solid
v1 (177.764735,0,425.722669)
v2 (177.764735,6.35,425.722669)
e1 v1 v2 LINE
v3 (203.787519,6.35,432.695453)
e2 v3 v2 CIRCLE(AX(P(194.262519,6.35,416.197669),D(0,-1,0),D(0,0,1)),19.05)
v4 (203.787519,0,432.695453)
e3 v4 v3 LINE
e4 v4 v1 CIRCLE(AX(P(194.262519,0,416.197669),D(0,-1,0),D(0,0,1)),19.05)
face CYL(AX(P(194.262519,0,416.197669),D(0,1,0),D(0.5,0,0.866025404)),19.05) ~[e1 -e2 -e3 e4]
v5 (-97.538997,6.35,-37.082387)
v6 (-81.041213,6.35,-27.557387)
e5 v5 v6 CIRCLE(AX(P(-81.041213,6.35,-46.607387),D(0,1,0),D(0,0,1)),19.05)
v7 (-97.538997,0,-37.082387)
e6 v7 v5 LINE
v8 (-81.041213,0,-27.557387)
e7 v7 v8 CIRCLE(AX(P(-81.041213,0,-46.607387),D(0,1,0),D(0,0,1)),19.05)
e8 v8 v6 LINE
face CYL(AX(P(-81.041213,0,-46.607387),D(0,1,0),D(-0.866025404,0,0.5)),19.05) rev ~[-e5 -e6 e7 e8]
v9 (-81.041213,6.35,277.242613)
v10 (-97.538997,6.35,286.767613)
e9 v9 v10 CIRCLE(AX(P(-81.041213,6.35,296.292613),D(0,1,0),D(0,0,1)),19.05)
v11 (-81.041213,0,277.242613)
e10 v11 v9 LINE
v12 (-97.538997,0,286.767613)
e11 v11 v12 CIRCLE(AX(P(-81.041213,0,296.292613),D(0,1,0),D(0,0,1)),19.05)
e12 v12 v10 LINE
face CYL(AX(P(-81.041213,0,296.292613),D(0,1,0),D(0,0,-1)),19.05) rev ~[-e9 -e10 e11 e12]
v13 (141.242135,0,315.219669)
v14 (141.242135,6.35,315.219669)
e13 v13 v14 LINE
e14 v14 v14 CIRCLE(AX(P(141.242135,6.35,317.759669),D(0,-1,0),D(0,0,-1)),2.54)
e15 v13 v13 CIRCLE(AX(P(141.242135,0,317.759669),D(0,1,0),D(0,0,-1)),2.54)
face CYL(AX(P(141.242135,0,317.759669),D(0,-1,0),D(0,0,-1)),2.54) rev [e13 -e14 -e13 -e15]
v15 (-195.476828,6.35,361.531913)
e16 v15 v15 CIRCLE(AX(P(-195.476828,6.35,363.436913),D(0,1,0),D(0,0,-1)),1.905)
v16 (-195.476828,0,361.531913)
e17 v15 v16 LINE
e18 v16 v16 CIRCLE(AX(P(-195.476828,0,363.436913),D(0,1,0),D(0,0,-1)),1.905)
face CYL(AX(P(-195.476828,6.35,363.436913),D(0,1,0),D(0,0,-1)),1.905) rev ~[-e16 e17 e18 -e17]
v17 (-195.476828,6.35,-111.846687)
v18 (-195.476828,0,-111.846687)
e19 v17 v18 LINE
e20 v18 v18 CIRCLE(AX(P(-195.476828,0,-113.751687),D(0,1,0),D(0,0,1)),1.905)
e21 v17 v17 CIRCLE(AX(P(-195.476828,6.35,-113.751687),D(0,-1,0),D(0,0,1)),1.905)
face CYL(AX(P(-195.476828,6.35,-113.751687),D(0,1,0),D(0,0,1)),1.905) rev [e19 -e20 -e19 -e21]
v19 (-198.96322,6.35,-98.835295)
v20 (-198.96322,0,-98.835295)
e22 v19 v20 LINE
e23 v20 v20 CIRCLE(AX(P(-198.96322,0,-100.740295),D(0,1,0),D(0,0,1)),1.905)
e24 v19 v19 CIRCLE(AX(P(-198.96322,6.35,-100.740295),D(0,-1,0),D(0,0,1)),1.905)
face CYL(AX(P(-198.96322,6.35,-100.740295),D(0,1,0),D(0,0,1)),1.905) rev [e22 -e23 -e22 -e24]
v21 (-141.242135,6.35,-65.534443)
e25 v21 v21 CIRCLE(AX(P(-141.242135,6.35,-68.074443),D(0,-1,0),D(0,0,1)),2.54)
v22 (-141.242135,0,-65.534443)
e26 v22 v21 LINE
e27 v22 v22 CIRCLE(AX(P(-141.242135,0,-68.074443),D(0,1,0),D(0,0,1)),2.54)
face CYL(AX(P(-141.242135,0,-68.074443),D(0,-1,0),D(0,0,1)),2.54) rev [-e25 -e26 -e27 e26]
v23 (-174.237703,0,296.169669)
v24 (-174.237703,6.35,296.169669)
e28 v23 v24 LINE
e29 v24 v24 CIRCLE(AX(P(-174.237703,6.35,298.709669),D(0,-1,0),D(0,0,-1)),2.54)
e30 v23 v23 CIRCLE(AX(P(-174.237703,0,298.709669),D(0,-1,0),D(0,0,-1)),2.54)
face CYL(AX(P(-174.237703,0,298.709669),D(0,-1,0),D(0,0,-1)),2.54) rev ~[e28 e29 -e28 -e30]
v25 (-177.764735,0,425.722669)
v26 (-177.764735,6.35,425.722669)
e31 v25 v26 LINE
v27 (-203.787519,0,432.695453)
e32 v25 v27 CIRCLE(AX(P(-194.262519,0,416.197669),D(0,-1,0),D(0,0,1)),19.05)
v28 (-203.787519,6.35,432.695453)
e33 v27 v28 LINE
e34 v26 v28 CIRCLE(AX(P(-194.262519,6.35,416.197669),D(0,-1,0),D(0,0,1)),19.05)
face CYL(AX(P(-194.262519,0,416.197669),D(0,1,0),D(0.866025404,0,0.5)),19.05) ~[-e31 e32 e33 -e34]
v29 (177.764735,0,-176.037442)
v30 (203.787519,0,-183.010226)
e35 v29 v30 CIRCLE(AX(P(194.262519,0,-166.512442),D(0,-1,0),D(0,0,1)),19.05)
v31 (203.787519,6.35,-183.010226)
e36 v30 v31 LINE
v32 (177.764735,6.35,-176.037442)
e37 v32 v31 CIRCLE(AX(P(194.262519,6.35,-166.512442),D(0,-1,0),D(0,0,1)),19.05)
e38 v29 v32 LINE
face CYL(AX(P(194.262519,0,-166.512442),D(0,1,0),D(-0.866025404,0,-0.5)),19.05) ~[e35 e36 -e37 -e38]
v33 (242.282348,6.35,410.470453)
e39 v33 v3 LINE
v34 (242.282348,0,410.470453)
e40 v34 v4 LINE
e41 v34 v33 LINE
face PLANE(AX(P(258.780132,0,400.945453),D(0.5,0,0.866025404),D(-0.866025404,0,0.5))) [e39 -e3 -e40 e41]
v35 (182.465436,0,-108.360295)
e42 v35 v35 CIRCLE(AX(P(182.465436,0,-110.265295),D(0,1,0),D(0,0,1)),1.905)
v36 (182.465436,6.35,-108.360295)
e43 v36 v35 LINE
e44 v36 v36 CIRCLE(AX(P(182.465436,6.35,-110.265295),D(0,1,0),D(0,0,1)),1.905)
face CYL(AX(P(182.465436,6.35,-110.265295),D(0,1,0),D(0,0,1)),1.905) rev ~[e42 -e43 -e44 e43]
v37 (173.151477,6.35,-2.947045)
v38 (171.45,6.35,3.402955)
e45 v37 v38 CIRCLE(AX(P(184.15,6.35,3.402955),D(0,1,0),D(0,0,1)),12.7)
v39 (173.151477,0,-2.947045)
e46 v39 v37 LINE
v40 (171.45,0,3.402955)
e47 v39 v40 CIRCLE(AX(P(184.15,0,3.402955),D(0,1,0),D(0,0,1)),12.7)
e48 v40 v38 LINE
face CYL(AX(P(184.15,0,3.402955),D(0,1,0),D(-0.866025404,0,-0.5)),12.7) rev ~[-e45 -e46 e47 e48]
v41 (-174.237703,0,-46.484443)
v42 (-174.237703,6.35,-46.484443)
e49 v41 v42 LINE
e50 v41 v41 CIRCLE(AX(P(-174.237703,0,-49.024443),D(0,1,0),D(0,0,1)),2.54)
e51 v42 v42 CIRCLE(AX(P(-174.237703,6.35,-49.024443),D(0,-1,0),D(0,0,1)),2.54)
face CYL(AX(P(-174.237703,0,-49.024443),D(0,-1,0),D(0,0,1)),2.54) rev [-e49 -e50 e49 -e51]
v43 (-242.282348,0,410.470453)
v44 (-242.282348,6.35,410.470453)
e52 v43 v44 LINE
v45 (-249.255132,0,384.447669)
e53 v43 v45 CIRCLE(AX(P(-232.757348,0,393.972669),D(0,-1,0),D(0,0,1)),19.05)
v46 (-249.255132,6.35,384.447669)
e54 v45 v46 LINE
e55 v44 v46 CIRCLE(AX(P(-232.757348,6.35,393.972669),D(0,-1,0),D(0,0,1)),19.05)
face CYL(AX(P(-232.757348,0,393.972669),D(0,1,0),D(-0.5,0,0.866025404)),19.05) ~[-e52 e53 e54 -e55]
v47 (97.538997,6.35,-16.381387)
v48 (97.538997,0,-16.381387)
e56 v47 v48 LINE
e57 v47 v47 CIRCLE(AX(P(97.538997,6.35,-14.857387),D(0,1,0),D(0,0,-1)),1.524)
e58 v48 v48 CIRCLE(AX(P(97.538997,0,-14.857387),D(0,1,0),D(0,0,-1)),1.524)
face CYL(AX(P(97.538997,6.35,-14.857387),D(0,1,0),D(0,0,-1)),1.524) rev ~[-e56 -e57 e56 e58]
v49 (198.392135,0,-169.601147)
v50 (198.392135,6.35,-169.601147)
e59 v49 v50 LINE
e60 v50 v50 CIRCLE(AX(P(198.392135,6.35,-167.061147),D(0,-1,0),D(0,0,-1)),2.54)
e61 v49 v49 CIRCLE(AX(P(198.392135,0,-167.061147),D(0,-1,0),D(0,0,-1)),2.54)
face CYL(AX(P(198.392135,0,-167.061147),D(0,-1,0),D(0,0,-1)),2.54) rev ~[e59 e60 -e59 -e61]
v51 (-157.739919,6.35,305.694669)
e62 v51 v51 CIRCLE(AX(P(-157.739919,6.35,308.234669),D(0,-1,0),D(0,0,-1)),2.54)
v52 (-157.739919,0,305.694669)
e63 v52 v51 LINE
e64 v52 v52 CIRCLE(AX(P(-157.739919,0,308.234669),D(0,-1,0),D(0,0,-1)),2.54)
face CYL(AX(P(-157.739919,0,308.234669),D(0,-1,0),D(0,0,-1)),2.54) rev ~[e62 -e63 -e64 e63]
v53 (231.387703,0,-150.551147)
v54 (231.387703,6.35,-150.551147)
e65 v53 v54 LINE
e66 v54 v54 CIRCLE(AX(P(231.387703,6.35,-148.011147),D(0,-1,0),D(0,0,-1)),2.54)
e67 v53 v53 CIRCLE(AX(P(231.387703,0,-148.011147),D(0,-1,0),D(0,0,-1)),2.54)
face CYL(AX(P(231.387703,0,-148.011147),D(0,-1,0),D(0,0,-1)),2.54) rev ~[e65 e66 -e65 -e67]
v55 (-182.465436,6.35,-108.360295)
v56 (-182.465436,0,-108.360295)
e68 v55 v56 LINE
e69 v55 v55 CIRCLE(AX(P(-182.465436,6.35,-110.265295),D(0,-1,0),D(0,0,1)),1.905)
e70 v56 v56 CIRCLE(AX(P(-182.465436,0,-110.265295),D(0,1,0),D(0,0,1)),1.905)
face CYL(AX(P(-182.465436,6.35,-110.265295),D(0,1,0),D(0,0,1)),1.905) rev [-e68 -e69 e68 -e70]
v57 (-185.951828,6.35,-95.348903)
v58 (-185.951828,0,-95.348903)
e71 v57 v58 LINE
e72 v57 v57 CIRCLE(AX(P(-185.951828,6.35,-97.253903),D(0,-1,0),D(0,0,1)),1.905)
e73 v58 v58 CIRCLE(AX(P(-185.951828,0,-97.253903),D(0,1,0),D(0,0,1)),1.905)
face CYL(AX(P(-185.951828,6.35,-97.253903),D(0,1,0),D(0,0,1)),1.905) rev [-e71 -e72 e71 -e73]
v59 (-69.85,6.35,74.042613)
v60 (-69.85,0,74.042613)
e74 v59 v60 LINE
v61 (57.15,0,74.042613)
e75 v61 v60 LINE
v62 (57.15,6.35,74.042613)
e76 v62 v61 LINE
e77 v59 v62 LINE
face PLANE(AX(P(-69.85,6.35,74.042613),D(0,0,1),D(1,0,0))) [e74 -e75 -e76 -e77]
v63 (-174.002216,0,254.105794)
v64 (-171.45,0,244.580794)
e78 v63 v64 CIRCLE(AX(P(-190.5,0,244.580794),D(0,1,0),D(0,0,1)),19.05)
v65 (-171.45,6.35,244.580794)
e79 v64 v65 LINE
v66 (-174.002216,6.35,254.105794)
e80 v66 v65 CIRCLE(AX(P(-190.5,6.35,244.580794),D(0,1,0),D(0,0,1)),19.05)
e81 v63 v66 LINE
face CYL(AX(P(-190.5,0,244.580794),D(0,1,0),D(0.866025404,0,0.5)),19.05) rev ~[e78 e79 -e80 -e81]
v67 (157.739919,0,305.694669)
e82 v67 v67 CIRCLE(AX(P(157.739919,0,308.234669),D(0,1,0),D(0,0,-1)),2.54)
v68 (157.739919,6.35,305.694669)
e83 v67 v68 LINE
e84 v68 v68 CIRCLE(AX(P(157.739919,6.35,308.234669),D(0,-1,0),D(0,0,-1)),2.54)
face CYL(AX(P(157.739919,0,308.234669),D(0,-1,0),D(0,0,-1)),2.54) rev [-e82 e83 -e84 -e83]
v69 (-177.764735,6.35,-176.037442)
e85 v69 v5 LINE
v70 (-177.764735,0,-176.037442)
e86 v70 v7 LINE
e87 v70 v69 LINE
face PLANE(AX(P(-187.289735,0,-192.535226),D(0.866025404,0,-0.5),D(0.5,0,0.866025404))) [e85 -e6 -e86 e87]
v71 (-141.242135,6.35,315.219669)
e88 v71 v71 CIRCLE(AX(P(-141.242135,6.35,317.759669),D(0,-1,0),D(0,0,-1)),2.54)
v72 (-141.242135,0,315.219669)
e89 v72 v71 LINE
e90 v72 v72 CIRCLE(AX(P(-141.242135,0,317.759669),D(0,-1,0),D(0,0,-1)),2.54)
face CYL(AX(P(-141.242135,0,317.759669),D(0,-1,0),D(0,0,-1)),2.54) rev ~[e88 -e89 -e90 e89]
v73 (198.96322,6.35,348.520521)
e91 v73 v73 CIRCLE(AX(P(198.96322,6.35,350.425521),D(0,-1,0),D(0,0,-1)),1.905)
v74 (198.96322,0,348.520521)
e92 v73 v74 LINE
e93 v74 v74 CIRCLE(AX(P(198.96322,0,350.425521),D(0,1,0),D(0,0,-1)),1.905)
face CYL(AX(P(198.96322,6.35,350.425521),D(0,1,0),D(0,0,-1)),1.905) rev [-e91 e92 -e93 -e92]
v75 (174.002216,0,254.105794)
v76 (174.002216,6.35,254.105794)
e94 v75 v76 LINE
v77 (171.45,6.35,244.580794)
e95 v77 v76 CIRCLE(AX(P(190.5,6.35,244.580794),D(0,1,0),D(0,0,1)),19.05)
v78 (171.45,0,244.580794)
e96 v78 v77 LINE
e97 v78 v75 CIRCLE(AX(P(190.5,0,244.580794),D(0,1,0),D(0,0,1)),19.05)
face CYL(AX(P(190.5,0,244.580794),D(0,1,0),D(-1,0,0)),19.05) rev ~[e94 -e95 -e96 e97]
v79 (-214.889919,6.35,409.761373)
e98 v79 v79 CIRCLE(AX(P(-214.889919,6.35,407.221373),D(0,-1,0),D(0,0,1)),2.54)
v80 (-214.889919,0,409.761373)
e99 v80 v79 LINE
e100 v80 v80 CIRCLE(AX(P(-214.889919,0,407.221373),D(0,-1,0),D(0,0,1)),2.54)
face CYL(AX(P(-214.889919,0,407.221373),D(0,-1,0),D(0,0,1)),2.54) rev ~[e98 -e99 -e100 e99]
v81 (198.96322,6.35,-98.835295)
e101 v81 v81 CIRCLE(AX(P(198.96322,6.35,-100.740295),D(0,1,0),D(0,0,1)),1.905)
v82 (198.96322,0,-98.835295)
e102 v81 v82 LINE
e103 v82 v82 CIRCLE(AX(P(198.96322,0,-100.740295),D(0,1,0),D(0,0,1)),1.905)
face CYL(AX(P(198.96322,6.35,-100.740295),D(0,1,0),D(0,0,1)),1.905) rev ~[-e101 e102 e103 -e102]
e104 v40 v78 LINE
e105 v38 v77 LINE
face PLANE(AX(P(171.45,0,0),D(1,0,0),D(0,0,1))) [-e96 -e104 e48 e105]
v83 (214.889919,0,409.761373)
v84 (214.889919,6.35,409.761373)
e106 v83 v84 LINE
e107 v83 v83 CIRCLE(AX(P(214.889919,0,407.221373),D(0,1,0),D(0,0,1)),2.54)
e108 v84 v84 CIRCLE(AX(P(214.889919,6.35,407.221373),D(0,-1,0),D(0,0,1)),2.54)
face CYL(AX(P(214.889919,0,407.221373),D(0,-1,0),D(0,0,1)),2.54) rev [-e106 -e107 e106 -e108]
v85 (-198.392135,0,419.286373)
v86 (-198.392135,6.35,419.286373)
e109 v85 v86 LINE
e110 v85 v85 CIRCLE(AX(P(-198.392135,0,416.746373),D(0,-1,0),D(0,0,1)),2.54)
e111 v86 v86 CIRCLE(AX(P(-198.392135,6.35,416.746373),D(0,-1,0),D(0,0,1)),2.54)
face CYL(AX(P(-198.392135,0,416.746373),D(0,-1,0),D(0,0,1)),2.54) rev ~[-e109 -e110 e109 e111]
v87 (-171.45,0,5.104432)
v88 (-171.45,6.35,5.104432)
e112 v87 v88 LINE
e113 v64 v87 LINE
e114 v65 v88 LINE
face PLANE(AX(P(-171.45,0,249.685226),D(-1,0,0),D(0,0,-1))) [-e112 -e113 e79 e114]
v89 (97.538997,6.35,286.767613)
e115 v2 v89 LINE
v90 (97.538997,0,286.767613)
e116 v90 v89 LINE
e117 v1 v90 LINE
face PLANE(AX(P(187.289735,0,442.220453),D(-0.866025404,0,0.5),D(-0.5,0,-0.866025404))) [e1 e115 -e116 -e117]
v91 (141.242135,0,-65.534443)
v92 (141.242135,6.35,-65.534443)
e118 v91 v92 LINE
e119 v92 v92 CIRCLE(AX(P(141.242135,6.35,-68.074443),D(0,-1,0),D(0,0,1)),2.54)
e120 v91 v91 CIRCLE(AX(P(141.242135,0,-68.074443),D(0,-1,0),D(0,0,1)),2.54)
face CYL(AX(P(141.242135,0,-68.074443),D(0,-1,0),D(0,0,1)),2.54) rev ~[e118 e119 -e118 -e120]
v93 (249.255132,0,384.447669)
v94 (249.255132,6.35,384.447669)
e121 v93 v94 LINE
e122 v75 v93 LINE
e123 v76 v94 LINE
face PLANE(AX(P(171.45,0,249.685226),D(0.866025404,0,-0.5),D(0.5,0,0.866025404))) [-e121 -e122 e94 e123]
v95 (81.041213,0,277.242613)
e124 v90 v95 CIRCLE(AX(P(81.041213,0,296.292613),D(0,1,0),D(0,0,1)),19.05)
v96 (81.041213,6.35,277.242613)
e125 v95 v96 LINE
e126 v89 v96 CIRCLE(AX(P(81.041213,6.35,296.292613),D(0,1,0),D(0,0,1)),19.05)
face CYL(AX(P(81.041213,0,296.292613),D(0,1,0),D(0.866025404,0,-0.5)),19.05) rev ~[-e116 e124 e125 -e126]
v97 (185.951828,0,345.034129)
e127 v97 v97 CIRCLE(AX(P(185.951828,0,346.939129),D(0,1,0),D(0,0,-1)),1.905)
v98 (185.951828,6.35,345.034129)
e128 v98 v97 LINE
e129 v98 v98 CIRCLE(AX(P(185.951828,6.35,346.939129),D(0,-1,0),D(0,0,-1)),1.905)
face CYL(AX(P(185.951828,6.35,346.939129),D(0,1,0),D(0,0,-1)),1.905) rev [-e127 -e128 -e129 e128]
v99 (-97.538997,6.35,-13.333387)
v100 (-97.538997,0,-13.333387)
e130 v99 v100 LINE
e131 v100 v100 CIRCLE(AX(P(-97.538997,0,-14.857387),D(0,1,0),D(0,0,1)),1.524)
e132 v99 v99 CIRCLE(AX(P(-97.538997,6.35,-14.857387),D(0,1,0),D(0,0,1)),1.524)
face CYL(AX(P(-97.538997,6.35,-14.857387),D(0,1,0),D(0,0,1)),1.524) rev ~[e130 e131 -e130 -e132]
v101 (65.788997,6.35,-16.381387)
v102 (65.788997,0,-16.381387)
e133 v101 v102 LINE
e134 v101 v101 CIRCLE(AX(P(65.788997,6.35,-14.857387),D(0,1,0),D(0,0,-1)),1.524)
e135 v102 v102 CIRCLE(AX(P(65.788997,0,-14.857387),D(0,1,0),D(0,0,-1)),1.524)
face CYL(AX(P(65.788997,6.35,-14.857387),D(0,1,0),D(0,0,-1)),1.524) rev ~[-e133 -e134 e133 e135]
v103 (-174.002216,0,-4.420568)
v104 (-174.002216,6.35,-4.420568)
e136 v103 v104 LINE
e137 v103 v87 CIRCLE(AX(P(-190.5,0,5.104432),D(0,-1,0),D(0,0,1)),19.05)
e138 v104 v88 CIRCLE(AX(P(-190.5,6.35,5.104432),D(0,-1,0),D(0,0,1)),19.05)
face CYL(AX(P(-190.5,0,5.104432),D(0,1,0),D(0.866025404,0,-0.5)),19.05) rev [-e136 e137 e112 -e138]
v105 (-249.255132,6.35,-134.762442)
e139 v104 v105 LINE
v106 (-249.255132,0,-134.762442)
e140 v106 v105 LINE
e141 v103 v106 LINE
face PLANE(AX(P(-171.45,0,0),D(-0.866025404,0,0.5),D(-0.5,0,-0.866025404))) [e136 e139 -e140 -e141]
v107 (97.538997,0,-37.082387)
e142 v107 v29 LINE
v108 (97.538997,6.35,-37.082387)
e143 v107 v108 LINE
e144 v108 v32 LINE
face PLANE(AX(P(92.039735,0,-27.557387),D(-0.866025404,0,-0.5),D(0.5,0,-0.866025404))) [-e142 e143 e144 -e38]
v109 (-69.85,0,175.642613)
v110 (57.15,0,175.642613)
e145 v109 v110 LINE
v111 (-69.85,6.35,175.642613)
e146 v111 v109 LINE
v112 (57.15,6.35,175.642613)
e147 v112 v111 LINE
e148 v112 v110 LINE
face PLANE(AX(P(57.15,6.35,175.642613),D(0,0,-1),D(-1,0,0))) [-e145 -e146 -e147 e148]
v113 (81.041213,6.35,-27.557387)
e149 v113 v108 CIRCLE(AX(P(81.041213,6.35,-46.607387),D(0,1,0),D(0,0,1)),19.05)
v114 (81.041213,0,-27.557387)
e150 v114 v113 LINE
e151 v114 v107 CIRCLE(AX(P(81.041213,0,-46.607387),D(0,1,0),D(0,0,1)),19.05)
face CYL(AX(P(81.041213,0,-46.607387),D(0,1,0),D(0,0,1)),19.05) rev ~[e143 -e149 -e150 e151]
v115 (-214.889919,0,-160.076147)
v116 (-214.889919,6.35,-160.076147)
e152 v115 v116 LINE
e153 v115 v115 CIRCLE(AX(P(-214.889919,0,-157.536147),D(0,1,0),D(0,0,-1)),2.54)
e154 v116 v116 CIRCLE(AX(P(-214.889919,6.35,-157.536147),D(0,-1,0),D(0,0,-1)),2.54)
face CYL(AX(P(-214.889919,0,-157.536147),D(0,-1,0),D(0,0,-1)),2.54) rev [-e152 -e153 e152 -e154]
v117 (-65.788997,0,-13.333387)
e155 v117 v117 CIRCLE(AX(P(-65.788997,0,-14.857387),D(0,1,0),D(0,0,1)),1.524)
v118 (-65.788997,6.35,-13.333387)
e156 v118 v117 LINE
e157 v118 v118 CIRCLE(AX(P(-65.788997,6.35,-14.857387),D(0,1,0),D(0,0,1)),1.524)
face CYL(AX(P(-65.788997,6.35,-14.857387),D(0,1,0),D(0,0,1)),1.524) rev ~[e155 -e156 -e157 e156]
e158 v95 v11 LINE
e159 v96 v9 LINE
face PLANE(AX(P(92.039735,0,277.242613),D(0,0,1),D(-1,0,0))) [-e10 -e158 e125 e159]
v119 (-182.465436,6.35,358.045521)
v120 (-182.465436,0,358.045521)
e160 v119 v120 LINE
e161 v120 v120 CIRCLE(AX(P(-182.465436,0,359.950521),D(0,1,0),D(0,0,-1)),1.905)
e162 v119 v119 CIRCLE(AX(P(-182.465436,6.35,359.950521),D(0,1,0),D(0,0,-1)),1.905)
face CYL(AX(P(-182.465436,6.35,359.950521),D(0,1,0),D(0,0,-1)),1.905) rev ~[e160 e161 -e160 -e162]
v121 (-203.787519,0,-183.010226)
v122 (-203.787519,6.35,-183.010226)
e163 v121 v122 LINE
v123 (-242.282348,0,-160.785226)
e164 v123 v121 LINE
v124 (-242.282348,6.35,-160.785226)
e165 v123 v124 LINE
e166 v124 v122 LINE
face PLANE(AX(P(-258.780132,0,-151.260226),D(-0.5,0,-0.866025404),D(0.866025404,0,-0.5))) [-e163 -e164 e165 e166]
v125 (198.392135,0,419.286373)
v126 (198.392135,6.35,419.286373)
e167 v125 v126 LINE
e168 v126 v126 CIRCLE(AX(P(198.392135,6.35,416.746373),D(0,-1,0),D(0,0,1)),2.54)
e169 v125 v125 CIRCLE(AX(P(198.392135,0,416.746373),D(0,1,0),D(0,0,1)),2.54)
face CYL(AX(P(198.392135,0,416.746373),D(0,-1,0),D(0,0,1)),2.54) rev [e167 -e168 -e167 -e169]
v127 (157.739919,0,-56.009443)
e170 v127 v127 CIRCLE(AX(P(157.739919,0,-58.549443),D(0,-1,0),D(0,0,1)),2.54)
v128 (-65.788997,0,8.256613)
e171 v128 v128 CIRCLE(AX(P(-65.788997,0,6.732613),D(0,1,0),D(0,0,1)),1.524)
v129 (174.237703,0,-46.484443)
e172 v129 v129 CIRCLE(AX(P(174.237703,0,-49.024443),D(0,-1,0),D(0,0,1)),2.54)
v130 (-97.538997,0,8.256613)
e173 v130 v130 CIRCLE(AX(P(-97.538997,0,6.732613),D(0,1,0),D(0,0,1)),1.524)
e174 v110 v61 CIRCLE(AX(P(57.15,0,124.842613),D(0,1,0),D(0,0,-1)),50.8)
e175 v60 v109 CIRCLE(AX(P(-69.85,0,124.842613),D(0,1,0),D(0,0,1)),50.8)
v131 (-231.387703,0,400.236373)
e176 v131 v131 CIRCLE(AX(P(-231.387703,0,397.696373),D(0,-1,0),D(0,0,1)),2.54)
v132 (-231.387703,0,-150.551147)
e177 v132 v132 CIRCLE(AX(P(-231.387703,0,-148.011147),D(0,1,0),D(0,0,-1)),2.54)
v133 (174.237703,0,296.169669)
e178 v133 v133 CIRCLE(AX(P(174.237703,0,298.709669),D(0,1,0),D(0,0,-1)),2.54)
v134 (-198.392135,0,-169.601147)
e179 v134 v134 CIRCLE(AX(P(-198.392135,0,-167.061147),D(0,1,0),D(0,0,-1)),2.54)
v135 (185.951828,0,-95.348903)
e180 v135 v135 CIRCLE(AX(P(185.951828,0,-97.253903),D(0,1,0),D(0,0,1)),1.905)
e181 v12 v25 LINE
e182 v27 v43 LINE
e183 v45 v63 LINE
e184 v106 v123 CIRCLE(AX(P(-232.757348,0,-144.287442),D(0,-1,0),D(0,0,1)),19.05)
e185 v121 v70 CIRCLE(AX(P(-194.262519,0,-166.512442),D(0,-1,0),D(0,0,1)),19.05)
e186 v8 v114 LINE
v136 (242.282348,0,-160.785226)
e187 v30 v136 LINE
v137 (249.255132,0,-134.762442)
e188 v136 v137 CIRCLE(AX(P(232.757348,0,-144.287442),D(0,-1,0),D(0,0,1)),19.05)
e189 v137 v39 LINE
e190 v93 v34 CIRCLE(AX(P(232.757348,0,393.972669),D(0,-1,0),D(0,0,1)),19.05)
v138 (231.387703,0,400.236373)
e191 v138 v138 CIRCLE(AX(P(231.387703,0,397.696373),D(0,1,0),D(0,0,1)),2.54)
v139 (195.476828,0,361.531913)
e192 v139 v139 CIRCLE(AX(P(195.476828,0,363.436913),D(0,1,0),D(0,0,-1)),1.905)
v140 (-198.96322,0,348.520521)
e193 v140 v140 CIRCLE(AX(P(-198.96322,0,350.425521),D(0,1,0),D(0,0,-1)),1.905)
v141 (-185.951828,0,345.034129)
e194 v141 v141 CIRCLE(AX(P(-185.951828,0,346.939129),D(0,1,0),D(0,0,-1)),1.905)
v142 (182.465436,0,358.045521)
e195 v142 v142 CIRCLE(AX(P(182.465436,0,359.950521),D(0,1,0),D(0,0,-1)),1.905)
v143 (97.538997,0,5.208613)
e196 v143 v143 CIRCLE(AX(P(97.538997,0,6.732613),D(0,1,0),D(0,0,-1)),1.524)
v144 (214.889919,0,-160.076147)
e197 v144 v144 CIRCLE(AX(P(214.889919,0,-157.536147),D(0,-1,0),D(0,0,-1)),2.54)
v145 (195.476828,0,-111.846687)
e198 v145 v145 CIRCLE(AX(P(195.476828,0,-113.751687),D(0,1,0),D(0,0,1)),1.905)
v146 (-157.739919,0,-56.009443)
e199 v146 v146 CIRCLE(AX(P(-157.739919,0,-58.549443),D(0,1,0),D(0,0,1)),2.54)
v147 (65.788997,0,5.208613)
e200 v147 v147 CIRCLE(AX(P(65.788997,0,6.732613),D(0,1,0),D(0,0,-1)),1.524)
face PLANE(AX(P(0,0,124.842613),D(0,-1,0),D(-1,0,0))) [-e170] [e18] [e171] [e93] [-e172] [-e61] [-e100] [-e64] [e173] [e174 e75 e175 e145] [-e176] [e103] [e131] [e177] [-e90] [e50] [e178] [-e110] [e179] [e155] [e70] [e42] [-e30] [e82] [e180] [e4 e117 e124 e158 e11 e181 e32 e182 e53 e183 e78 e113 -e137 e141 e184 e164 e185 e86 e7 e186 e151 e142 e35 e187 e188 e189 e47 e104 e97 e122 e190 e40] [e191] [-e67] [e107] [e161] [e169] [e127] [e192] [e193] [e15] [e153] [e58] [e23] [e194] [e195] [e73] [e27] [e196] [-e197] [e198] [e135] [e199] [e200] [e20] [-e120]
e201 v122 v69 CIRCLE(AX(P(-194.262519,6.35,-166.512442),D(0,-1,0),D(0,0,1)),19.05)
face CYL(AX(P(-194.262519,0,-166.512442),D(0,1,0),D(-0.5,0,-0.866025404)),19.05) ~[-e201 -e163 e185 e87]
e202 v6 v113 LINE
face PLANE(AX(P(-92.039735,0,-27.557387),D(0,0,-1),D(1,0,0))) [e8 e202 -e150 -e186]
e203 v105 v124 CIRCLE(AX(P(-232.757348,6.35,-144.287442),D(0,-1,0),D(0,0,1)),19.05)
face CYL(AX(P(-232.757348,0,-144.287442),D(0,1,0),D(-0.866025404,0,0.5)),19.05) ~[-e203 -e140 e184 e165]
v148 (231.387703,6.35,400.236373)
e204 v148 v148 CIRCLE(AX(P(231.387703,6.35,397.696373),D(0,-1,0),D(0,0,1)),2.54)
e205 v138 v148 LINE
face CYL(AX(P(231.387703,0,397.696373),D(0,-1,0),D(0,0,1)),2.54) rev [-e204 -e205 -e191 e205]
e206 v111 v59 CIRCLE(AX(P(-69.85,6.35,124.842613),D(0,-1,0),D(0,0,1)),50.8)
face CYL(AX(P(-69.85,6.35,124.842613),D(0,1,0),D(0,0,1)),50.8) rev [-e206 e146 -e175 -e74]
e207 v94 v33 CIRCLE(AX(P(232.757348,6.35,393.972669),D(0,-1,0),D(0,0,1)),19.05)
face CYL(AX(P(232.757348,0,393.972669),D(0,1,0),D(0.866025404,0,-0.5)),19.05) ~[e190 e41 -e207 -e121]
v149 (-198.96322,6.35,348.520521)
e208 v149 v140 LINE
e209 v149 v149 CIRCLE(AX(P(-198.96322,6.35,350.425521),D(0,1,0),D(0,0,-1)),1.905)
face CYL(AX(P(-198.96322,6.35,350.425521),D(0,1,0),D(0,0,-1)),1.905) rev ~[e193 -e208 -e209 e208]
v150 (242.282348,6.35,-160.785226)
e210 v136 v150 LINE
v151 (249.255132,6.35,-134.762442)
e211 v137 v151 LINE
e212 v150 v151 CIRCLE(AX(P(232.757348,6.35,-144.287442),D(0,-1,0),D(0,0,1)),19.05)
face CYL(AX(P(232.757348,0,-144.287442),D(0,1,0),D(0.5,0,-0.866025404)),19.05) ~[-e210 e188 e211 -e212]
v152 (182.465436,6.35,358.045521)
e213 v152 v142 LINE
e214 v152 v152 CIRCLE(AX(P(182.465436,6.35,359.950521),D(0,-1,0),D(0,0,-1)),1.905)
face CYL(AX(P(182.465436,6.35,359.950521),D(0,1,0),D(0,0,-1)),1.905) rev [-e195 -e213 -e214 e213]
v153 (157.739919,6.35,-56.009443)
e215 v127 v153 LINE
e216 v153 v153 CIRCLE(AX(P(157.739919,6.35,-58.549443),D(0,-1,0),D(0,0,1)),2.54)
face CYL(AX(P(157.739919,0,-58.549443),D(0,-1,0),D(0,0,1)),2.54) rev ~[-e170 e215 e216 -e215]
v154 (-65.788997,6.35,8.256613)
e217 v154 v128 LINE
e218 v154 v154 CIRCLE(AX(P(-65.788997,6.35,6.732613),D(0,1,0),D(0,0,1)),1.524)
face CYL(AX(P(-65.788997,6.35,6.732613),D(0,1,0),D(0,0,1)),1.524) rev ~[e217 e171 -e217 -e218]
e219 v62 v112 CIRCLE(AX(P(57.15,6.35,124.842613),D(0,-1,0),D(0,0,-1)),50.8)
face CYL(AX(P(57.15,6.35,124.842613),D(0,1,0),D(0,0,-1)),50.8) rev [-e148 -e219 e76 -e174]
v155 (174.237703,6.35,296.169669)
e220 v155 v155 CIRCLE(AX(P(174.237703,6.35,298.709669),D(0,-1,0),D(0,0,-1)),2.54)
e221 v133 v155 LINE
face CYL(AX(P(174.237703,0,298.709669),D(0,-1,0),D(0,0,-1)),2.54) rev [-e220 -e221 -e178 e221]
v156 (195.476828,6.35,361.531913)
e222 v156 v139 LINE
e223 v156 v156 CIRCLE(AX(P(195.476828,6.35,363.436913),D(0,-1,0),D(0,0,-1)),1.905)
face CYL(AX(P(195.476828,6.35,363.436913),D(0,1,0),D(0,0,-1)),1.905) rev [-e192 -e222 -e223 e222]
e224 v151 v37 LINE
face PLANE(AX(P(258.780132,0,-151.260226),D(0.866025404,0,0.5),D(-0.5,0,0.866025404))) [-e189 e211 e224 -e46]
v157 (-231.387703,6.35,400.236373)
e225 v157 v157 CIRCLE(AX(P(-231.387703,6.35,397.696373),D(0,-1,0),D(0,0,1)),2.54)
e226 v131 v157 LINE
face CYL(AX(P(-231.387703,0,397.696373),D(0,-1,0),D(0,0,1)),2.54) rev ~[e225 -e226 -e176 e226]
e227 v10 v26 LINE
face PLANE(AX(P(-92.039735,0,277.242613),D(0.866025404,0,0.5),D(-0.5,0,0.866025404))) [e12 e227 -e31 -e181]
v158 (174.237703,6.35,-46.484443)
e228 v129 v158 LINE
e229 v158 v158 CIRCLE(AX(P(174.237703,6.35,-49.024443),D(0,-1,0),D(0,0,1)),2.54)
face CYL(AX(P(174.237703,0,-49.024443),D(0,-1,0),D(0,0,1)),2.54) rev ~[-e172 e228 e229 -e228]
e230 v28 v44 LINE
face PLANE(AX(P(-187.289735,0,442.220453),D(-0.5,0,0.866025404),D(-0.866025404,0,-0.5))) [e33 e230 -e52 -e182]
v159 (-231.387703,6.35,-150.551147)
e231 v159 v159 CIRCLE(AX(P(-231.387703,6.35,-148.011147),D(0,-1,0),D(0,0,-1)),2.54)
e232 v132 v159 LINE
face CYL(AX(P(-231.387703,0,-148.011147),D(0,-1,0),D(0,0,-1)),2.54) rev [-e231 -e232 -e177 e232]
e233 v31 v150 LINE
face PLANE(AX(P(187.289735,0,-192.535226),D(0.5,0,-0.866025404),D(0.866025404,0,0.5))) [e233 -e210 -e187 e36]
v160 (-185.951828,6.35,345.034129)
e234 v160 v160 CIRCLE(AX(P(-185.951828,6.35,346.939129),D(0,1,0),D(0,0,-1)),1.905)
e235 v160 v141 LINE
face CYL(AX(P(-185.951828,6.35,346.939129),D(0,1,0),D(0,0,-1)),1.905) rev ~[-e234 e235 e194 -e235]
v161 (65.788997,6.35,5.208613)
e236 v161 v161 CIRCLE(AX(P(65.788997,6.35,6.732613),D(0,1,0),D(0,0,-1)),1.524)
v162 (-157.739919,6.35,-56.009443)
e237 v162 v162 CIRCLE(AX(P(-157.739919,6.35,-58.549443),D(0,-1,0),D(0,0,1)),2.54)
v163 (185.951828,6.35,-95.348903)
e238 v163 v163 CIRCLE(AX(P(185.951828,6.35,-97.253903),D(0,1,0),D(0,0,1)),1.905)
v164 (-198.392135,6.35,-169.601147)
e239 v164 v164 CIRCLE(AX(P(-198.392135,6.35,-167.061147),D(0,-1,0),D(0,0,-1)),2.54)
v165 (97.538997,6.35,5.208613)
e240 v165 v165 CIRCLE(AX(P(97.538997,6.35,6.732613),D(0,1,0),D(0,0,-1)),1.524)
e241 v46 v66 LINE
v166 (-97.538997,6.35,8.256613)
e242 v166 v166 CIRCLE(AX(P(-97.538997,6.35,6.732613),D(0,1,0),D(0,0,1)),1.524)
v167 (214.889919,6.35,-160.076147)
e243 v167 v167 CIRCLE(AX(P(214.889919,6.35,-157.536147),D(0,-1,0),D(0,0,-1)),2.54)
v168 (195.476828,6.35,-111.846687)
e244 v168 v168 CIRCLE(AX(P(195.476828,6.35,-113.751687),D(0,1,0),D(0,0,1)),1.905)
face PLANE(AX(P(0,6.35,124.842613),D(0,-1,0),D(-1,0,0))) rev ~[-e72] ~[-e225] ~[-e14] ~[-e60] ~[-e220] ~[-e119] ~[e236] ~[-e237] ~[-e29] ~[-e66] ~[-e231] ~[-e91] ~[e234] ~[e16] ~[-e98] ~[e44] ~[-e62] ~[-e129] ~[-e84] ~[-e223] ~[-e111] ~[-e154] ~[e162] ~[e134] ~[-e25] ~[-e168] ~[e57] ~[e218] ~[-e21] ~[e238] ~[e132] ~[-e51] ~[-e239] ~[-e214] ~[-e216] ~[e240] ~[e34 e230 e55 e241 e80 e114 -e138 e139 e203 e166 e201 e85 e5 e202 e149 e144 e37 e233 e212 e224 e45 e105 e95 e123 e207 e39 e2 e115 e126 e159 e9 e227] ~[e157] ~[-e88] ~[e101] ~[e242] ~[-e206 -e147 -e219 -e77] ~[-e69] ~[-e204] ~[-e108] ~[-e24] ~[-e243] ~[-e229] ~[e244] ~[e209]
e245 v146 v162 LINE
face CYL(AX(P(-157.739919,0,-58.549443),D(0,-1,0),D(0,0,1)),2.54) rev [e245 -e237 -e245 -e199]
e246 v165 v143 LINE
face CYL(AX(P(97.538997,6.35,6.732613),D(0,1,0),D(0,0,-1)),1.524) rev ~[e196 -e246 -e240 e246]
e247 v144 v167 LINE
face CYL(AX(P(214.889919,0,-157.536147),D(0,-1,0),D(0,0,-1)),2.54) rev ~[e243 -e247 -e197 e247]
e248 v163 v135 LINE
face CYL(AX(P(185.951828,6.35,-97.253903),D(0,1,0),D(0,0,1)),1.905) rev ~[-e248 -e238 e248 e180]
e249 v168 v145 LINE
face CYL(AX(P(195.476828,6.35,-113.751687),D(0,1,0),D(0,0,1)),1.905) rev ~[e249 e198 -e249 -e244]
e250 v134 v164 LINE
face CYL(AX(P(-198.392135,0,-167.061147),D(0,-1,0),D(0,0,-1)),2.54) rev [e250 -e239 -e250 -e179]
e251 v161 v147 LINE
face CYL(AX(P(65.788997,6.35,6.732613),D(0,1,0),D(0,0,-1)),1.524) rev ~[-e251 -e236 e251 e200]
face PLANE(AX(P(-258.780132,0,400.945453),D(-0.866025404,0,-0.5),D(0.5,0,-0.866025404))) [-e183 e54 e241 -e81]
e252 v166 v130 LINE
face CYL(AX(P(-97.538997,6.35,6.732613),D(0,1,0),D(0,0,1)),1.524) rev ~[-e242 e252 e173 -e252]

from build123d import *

# Parameters (mm, degrees)
BOSS_EXTRUDE1_DEPTH     = 6.35
FILLET1_R               = 19.05
CUT_EXTRUDE1_DEPTH      = 503.879504709
SKETCH4_R               = 2.54
CUT_EXTRUDE2_DEPTH      = 503.879504709
SKETCH6_R               = 1.905
CUT_EXTRUDE3_DEPTH      = 503.879504709
MIRROR2_COPY_1_SKETCH_R = 2.54
MIRROR2_COPY_1_DEPTH    = 503.879504709
MIRROR2_COPY_2_SKETCH_R = 1.905
MIRROR2_COPY_2_DEPTH    = 503.879504709
FILLET2_R               = 12.7
SKETCH7_R               = 1.524
CUT_EXTRUDE4_DEPTH      = 503.879504709


with BuildPart() as part:
    # Sketch1 → Boss-Extrude1 (new body)
    with BuildSketch(Plane(origin=(0, 0, 0), x_dir=(1, 0, 0), z_dir=(0, 1, 0))):
        Polygon((-171.45, 0), (-258.780132361, 151.260226281), (-187.289735278, 192.535226281), (-92.039735278, 27.55738686), (92.039735278, 27.55738686), (187.289735278, 192.535226281), (258.780132361, 151.260226281), (171.45, 0), (171.45, -249.685226281), (258.780132361, -400.945452561), (187.289735278, -442.220452561), (92.039735278, -277.24261314), (-92.039735278, -277.24261314), (-187.289735278, -442.220452561), (-258.780132361, -400.945452561), (-171.45, -249.685226281), align=None)
    extrude(amount=BOSS_EXTRUDE1_DEPTH)

    # Fillet1
    fillet1_edges = [part.edges().sort_by_distance(p)[0] for p in [
        (-171.45, 3.175, 0),
        (-258.780132361, 3.175, -151.260226281),
        (-187.289735278, 3.175, -192.535226281),
        (-92.039735278, 3.175, -27.55738686),
        (92.039735278, 3.175, -27.55738686),
        (187.289735278, 3.175, -192.535226281),
        (258.780132361, 3.175, -151.260226281),
        (171.45, 3.175, 249.685226281),
        (258.780132361, 3.175, 400.945452561),
        (187.289735278, 3.175, 442.220452561),
        (92.039735278, 3.175, 277.24261314),
        (-92.039735278, 3.175, 277.24261314),
        (-187.289735278, 3.175, 442.220452561),
        (-258.780132361, 3.175, 400.945452561),
        (-171.45, 3.175, 249.685226281),
    ]]
    fillet(fillet1_edges, radius=FILLET1_R)

    # Sketch2 → Cut-Extrude1 (cut, through all)
    with BuildSketch(Plane(origin=(0, 6.35, 0), x_dir=(1, 0, 0), z_dir=(0, 1, 0))):
        with BuildLine():
            Line((-69.85, -74.04261314), (57.15, -74.04261314))
            ThreePointArc((57.15, -74.04261314), (107.95, -124.84261314), (57.15, -175.64261314))
            Line((57.15, -175.64261314), (-69.85, -175.64261314))
            ThreePointArc((-69.85, -175.64261314), (-120.65, -124.84261314), (-69.85, -74.04261314))
        make_face()
    cut_extrude1 = extrude(amount=-CUT_EXTRUDE1_DEPTH, mode=Mode.SUBTRACT)

    # Sketch4 → Cut-Extrude2 (cut, through all)
    with BuildSketch(Plane.XZ):
        with Locations(Location((198.392135104, -167.061146864, 0), (0, 0, 270))):
            Circle(SKETCH4_R)
        with Locations(Location((214.889919046, -157.536146864, 0), (0, 0, 270))):
            Circle(SKETCH4_R)
        with Locations(Location((231.387702988, -148.011146864, 0), (0, 0, 270))):
            Circle(SKETCH4_R)
        with Locations(Location((141.242135104, -68.074443212, 0), (0, 0, 90))):
            Circle(SKETCH4_R)
        with Locations(Location((174.237702988, -49.024443212, 0), (0, 0, 90))):
            Circle(SKETCH4_R)
        with Locations(Location((157.739919046, -58.549443212, 0), (0, 0, 90))):
            Circle(SKETCH4_R)
    cut_extrude2 = extrude(amount=-CUT_EXTRUDE2_DEPTH, mode=Mode.SUBTRACT)

    # Sketch6 → Cut-Extrude3 (cut, through all)
    with BuildSketch(Plane(origin=(0, 6.35, 0), x_dir=(1, 0, 0), z_dir=(0, 1, 0))):
        with Locations(Location((198.963220068, 100.740295038, 0), (0, 0, 270))):
            Circle(SKETCH6_R)
        with Locations(Location((185.951828097, 97.253903067, 0), (0, 0, 270))):
            Circle(SKETCH6_R)
        with Locations(Location((182.465436126, 110.265295038, 0), (0, 0, 270))):
            Circle(SKETCH6_R)
        with Locations(Location((195.476828097, 113.751687009, 0), (0, 0, 270))):
            Circle(SKETCH6_R)
    cut_extrude3 = extrude(amount=-CUT_EXTRUDE3_DEPTH, mode=Mode.SUBTRACT)

    # Mirror1: Cut-Extrude2, Cut-Extrude3 across plane
    add(cut_extrude2.mirror(Plane(origin=(0, 0, 0), x_dir=(0, 0, 1), z_dir=(1, 0, 0))), mode=Mode.SUBTRACT)
    add(cut_extrude3.mirror(Plane(origin=(0, 0, 0), x_dir=(0, 0, 1), z_dir=(1, 0, 0))), mode=Mode.SUBTRACT)

    # Mirror2: Cut-Extrude1, Cut-Extrude2, Cut-Extrude3 across plane
    add(cut_extrude1.mirror(Plane(origin=(0, 0, 124.84261314), x_dir=(1, 0, 0), z_dir=(0, 0, -1))), mode=Mode.SUBTRACT)
    add(cut_extrude2.mirror(Plane(origin=(0, 0, 124.84261314), x_dir=(1, 0, 0), z_dir=(0, 0, -1))), mode=Mode.SUBTRACT)
    add(cut_extrude3.mirror(Plane(origin=(0, 0, 124.84261314), x_dir=(1, 0, 0), z_dir=(0, 0, -1))), mode=Mode.SUBTRACT)

    # Mirror2 copy 1 sketch → Mirror2 copy 1 (cut, through all)
    with BuildSketch(Plane(origin=(0, 0, 249.685226281), x_dir=(-1, 0, 0), z_dir=(0, -1, 0))):
        with Locations(Location((198.392135104, -167.061146864, 0), (0, 0, 270))):
            Circle(MIRROR2_COPY_1_SKETCH_R)
        with Locations(Location((214.889919046, -157.536146864, 0), (0, 0, 270))):
            Circle(MIRROR2_COPY_1_SKETCH_R)
        with Locations(Location((231.387702988, -148.011146864, 0), (0, 0, 270))):
            Circle(MIRROR2_COPY_1_SKETCH_R)
        with Locations(Location((141.242135104, -68.074443212, 0), (0, 0, 90))):
            Circle(MIRROR2_COPY_1_SKETCH_R)
        with Locations(Location((174.237702988, -49.024443212, 0), (0, 0, 90))):
            Circle(MIRROR2_COPY_1_SKETCH_R)
        with Locations(Location((157.739919046, -58.549443212, 0), (0, 0, 90))):
            Circle(MIRROR2_COPY_1_SKETCH_R)
    extrude(amount=-MIRROR2_COPY_1_DEPTH, mode=Mode.SUBTRACT)

    # Mirror2 copy 2 sketch → Mirror2 copy 2 (cut, through all)
    with BuildSketch(Plane(origin=(0, 6.35, 249.685226281), x_dir=(-1, 0, 0), z_dir=(0, 1, 0))):
        with Locations(Location((198.963220068, 100.740295038, 0), (0, 0, 270))):
            Circle(MIRROR2_COPY_2_SKETCH_R)
        with Locations(Location((185.951828097, 97.253903067, 0), (0, 0, 270))):
            Circle(MIRROR2_COPY_2_SKETCH_R)
        with Locations(Location((182.465436126, 110.265295038, 0), (0, 0, 270))):
            Circle(MIRROR2_COPY_2_SKETCH_R)
        with Locations(Location((195.476828097, 113.751687009, 0), (0, 0, 270))):
            Circle(MIRROR2_COPY_2_SKETCH_R)
    extrude(amount=-MIRROR2_COPY_2_DEPTH, mode=Mode.SUBTRACT)

    # Fillet2
    fillet2_edges = [part.edges().sort_by_distance(p)[0] for p in [
        (171.45, 3.175, 0),
    ]]
    fillet(fillet2_edges, radius=FILLET2_R)

    # Sketch7 → Cut-Extrude4 (cut, through all)
    with BuildSketch(Plane(origin=(0, 6.35, 0), x_dir=(1, 0, 0), z_dir=(0, 1, 0))):
        with Locations(Location((-97.538996592, 14.85738686, 0), (0, 0, 270))):
            Circle(SKETCH7_R)
        with Locations(Location((-97.538996592, -6.73261314, 0), (0, 0, 270))):
            Circle(SKETCH7_R)
        with Locations(Location((-65.788996592, 14.85738686, 0), (0, 0, 270))):
            Circle(SKETCH7_R)
        with Locations(Location((-65.788996592, -6.73261314, 0), (0, 0, 270))):
            Circle(SKETCH7_R)
        with Locations(Location((97.538996592, -6.73261314, 0), (0, 0, 90))):
            Circle(SKETCH7_R)
        with Locations(Location((97.538996592, 14.85738686, 0), (0, 0, 90))):
            Circle(SKETCH7_R)
        with Locations(Location((65.788996592, 14.85738686, 0), (0, 0, 90))):
            Circle(SKETCH7_R)
        with Locations(Location((65.788996592, -6.73261314, 0), (0, 0, 90))):
            Circle(SKETCH7_R)
    extrude(amount=-CUT_EXTRUDE4_DEPTH, mode=Mode.SUBTRACT)


solid = part.part
